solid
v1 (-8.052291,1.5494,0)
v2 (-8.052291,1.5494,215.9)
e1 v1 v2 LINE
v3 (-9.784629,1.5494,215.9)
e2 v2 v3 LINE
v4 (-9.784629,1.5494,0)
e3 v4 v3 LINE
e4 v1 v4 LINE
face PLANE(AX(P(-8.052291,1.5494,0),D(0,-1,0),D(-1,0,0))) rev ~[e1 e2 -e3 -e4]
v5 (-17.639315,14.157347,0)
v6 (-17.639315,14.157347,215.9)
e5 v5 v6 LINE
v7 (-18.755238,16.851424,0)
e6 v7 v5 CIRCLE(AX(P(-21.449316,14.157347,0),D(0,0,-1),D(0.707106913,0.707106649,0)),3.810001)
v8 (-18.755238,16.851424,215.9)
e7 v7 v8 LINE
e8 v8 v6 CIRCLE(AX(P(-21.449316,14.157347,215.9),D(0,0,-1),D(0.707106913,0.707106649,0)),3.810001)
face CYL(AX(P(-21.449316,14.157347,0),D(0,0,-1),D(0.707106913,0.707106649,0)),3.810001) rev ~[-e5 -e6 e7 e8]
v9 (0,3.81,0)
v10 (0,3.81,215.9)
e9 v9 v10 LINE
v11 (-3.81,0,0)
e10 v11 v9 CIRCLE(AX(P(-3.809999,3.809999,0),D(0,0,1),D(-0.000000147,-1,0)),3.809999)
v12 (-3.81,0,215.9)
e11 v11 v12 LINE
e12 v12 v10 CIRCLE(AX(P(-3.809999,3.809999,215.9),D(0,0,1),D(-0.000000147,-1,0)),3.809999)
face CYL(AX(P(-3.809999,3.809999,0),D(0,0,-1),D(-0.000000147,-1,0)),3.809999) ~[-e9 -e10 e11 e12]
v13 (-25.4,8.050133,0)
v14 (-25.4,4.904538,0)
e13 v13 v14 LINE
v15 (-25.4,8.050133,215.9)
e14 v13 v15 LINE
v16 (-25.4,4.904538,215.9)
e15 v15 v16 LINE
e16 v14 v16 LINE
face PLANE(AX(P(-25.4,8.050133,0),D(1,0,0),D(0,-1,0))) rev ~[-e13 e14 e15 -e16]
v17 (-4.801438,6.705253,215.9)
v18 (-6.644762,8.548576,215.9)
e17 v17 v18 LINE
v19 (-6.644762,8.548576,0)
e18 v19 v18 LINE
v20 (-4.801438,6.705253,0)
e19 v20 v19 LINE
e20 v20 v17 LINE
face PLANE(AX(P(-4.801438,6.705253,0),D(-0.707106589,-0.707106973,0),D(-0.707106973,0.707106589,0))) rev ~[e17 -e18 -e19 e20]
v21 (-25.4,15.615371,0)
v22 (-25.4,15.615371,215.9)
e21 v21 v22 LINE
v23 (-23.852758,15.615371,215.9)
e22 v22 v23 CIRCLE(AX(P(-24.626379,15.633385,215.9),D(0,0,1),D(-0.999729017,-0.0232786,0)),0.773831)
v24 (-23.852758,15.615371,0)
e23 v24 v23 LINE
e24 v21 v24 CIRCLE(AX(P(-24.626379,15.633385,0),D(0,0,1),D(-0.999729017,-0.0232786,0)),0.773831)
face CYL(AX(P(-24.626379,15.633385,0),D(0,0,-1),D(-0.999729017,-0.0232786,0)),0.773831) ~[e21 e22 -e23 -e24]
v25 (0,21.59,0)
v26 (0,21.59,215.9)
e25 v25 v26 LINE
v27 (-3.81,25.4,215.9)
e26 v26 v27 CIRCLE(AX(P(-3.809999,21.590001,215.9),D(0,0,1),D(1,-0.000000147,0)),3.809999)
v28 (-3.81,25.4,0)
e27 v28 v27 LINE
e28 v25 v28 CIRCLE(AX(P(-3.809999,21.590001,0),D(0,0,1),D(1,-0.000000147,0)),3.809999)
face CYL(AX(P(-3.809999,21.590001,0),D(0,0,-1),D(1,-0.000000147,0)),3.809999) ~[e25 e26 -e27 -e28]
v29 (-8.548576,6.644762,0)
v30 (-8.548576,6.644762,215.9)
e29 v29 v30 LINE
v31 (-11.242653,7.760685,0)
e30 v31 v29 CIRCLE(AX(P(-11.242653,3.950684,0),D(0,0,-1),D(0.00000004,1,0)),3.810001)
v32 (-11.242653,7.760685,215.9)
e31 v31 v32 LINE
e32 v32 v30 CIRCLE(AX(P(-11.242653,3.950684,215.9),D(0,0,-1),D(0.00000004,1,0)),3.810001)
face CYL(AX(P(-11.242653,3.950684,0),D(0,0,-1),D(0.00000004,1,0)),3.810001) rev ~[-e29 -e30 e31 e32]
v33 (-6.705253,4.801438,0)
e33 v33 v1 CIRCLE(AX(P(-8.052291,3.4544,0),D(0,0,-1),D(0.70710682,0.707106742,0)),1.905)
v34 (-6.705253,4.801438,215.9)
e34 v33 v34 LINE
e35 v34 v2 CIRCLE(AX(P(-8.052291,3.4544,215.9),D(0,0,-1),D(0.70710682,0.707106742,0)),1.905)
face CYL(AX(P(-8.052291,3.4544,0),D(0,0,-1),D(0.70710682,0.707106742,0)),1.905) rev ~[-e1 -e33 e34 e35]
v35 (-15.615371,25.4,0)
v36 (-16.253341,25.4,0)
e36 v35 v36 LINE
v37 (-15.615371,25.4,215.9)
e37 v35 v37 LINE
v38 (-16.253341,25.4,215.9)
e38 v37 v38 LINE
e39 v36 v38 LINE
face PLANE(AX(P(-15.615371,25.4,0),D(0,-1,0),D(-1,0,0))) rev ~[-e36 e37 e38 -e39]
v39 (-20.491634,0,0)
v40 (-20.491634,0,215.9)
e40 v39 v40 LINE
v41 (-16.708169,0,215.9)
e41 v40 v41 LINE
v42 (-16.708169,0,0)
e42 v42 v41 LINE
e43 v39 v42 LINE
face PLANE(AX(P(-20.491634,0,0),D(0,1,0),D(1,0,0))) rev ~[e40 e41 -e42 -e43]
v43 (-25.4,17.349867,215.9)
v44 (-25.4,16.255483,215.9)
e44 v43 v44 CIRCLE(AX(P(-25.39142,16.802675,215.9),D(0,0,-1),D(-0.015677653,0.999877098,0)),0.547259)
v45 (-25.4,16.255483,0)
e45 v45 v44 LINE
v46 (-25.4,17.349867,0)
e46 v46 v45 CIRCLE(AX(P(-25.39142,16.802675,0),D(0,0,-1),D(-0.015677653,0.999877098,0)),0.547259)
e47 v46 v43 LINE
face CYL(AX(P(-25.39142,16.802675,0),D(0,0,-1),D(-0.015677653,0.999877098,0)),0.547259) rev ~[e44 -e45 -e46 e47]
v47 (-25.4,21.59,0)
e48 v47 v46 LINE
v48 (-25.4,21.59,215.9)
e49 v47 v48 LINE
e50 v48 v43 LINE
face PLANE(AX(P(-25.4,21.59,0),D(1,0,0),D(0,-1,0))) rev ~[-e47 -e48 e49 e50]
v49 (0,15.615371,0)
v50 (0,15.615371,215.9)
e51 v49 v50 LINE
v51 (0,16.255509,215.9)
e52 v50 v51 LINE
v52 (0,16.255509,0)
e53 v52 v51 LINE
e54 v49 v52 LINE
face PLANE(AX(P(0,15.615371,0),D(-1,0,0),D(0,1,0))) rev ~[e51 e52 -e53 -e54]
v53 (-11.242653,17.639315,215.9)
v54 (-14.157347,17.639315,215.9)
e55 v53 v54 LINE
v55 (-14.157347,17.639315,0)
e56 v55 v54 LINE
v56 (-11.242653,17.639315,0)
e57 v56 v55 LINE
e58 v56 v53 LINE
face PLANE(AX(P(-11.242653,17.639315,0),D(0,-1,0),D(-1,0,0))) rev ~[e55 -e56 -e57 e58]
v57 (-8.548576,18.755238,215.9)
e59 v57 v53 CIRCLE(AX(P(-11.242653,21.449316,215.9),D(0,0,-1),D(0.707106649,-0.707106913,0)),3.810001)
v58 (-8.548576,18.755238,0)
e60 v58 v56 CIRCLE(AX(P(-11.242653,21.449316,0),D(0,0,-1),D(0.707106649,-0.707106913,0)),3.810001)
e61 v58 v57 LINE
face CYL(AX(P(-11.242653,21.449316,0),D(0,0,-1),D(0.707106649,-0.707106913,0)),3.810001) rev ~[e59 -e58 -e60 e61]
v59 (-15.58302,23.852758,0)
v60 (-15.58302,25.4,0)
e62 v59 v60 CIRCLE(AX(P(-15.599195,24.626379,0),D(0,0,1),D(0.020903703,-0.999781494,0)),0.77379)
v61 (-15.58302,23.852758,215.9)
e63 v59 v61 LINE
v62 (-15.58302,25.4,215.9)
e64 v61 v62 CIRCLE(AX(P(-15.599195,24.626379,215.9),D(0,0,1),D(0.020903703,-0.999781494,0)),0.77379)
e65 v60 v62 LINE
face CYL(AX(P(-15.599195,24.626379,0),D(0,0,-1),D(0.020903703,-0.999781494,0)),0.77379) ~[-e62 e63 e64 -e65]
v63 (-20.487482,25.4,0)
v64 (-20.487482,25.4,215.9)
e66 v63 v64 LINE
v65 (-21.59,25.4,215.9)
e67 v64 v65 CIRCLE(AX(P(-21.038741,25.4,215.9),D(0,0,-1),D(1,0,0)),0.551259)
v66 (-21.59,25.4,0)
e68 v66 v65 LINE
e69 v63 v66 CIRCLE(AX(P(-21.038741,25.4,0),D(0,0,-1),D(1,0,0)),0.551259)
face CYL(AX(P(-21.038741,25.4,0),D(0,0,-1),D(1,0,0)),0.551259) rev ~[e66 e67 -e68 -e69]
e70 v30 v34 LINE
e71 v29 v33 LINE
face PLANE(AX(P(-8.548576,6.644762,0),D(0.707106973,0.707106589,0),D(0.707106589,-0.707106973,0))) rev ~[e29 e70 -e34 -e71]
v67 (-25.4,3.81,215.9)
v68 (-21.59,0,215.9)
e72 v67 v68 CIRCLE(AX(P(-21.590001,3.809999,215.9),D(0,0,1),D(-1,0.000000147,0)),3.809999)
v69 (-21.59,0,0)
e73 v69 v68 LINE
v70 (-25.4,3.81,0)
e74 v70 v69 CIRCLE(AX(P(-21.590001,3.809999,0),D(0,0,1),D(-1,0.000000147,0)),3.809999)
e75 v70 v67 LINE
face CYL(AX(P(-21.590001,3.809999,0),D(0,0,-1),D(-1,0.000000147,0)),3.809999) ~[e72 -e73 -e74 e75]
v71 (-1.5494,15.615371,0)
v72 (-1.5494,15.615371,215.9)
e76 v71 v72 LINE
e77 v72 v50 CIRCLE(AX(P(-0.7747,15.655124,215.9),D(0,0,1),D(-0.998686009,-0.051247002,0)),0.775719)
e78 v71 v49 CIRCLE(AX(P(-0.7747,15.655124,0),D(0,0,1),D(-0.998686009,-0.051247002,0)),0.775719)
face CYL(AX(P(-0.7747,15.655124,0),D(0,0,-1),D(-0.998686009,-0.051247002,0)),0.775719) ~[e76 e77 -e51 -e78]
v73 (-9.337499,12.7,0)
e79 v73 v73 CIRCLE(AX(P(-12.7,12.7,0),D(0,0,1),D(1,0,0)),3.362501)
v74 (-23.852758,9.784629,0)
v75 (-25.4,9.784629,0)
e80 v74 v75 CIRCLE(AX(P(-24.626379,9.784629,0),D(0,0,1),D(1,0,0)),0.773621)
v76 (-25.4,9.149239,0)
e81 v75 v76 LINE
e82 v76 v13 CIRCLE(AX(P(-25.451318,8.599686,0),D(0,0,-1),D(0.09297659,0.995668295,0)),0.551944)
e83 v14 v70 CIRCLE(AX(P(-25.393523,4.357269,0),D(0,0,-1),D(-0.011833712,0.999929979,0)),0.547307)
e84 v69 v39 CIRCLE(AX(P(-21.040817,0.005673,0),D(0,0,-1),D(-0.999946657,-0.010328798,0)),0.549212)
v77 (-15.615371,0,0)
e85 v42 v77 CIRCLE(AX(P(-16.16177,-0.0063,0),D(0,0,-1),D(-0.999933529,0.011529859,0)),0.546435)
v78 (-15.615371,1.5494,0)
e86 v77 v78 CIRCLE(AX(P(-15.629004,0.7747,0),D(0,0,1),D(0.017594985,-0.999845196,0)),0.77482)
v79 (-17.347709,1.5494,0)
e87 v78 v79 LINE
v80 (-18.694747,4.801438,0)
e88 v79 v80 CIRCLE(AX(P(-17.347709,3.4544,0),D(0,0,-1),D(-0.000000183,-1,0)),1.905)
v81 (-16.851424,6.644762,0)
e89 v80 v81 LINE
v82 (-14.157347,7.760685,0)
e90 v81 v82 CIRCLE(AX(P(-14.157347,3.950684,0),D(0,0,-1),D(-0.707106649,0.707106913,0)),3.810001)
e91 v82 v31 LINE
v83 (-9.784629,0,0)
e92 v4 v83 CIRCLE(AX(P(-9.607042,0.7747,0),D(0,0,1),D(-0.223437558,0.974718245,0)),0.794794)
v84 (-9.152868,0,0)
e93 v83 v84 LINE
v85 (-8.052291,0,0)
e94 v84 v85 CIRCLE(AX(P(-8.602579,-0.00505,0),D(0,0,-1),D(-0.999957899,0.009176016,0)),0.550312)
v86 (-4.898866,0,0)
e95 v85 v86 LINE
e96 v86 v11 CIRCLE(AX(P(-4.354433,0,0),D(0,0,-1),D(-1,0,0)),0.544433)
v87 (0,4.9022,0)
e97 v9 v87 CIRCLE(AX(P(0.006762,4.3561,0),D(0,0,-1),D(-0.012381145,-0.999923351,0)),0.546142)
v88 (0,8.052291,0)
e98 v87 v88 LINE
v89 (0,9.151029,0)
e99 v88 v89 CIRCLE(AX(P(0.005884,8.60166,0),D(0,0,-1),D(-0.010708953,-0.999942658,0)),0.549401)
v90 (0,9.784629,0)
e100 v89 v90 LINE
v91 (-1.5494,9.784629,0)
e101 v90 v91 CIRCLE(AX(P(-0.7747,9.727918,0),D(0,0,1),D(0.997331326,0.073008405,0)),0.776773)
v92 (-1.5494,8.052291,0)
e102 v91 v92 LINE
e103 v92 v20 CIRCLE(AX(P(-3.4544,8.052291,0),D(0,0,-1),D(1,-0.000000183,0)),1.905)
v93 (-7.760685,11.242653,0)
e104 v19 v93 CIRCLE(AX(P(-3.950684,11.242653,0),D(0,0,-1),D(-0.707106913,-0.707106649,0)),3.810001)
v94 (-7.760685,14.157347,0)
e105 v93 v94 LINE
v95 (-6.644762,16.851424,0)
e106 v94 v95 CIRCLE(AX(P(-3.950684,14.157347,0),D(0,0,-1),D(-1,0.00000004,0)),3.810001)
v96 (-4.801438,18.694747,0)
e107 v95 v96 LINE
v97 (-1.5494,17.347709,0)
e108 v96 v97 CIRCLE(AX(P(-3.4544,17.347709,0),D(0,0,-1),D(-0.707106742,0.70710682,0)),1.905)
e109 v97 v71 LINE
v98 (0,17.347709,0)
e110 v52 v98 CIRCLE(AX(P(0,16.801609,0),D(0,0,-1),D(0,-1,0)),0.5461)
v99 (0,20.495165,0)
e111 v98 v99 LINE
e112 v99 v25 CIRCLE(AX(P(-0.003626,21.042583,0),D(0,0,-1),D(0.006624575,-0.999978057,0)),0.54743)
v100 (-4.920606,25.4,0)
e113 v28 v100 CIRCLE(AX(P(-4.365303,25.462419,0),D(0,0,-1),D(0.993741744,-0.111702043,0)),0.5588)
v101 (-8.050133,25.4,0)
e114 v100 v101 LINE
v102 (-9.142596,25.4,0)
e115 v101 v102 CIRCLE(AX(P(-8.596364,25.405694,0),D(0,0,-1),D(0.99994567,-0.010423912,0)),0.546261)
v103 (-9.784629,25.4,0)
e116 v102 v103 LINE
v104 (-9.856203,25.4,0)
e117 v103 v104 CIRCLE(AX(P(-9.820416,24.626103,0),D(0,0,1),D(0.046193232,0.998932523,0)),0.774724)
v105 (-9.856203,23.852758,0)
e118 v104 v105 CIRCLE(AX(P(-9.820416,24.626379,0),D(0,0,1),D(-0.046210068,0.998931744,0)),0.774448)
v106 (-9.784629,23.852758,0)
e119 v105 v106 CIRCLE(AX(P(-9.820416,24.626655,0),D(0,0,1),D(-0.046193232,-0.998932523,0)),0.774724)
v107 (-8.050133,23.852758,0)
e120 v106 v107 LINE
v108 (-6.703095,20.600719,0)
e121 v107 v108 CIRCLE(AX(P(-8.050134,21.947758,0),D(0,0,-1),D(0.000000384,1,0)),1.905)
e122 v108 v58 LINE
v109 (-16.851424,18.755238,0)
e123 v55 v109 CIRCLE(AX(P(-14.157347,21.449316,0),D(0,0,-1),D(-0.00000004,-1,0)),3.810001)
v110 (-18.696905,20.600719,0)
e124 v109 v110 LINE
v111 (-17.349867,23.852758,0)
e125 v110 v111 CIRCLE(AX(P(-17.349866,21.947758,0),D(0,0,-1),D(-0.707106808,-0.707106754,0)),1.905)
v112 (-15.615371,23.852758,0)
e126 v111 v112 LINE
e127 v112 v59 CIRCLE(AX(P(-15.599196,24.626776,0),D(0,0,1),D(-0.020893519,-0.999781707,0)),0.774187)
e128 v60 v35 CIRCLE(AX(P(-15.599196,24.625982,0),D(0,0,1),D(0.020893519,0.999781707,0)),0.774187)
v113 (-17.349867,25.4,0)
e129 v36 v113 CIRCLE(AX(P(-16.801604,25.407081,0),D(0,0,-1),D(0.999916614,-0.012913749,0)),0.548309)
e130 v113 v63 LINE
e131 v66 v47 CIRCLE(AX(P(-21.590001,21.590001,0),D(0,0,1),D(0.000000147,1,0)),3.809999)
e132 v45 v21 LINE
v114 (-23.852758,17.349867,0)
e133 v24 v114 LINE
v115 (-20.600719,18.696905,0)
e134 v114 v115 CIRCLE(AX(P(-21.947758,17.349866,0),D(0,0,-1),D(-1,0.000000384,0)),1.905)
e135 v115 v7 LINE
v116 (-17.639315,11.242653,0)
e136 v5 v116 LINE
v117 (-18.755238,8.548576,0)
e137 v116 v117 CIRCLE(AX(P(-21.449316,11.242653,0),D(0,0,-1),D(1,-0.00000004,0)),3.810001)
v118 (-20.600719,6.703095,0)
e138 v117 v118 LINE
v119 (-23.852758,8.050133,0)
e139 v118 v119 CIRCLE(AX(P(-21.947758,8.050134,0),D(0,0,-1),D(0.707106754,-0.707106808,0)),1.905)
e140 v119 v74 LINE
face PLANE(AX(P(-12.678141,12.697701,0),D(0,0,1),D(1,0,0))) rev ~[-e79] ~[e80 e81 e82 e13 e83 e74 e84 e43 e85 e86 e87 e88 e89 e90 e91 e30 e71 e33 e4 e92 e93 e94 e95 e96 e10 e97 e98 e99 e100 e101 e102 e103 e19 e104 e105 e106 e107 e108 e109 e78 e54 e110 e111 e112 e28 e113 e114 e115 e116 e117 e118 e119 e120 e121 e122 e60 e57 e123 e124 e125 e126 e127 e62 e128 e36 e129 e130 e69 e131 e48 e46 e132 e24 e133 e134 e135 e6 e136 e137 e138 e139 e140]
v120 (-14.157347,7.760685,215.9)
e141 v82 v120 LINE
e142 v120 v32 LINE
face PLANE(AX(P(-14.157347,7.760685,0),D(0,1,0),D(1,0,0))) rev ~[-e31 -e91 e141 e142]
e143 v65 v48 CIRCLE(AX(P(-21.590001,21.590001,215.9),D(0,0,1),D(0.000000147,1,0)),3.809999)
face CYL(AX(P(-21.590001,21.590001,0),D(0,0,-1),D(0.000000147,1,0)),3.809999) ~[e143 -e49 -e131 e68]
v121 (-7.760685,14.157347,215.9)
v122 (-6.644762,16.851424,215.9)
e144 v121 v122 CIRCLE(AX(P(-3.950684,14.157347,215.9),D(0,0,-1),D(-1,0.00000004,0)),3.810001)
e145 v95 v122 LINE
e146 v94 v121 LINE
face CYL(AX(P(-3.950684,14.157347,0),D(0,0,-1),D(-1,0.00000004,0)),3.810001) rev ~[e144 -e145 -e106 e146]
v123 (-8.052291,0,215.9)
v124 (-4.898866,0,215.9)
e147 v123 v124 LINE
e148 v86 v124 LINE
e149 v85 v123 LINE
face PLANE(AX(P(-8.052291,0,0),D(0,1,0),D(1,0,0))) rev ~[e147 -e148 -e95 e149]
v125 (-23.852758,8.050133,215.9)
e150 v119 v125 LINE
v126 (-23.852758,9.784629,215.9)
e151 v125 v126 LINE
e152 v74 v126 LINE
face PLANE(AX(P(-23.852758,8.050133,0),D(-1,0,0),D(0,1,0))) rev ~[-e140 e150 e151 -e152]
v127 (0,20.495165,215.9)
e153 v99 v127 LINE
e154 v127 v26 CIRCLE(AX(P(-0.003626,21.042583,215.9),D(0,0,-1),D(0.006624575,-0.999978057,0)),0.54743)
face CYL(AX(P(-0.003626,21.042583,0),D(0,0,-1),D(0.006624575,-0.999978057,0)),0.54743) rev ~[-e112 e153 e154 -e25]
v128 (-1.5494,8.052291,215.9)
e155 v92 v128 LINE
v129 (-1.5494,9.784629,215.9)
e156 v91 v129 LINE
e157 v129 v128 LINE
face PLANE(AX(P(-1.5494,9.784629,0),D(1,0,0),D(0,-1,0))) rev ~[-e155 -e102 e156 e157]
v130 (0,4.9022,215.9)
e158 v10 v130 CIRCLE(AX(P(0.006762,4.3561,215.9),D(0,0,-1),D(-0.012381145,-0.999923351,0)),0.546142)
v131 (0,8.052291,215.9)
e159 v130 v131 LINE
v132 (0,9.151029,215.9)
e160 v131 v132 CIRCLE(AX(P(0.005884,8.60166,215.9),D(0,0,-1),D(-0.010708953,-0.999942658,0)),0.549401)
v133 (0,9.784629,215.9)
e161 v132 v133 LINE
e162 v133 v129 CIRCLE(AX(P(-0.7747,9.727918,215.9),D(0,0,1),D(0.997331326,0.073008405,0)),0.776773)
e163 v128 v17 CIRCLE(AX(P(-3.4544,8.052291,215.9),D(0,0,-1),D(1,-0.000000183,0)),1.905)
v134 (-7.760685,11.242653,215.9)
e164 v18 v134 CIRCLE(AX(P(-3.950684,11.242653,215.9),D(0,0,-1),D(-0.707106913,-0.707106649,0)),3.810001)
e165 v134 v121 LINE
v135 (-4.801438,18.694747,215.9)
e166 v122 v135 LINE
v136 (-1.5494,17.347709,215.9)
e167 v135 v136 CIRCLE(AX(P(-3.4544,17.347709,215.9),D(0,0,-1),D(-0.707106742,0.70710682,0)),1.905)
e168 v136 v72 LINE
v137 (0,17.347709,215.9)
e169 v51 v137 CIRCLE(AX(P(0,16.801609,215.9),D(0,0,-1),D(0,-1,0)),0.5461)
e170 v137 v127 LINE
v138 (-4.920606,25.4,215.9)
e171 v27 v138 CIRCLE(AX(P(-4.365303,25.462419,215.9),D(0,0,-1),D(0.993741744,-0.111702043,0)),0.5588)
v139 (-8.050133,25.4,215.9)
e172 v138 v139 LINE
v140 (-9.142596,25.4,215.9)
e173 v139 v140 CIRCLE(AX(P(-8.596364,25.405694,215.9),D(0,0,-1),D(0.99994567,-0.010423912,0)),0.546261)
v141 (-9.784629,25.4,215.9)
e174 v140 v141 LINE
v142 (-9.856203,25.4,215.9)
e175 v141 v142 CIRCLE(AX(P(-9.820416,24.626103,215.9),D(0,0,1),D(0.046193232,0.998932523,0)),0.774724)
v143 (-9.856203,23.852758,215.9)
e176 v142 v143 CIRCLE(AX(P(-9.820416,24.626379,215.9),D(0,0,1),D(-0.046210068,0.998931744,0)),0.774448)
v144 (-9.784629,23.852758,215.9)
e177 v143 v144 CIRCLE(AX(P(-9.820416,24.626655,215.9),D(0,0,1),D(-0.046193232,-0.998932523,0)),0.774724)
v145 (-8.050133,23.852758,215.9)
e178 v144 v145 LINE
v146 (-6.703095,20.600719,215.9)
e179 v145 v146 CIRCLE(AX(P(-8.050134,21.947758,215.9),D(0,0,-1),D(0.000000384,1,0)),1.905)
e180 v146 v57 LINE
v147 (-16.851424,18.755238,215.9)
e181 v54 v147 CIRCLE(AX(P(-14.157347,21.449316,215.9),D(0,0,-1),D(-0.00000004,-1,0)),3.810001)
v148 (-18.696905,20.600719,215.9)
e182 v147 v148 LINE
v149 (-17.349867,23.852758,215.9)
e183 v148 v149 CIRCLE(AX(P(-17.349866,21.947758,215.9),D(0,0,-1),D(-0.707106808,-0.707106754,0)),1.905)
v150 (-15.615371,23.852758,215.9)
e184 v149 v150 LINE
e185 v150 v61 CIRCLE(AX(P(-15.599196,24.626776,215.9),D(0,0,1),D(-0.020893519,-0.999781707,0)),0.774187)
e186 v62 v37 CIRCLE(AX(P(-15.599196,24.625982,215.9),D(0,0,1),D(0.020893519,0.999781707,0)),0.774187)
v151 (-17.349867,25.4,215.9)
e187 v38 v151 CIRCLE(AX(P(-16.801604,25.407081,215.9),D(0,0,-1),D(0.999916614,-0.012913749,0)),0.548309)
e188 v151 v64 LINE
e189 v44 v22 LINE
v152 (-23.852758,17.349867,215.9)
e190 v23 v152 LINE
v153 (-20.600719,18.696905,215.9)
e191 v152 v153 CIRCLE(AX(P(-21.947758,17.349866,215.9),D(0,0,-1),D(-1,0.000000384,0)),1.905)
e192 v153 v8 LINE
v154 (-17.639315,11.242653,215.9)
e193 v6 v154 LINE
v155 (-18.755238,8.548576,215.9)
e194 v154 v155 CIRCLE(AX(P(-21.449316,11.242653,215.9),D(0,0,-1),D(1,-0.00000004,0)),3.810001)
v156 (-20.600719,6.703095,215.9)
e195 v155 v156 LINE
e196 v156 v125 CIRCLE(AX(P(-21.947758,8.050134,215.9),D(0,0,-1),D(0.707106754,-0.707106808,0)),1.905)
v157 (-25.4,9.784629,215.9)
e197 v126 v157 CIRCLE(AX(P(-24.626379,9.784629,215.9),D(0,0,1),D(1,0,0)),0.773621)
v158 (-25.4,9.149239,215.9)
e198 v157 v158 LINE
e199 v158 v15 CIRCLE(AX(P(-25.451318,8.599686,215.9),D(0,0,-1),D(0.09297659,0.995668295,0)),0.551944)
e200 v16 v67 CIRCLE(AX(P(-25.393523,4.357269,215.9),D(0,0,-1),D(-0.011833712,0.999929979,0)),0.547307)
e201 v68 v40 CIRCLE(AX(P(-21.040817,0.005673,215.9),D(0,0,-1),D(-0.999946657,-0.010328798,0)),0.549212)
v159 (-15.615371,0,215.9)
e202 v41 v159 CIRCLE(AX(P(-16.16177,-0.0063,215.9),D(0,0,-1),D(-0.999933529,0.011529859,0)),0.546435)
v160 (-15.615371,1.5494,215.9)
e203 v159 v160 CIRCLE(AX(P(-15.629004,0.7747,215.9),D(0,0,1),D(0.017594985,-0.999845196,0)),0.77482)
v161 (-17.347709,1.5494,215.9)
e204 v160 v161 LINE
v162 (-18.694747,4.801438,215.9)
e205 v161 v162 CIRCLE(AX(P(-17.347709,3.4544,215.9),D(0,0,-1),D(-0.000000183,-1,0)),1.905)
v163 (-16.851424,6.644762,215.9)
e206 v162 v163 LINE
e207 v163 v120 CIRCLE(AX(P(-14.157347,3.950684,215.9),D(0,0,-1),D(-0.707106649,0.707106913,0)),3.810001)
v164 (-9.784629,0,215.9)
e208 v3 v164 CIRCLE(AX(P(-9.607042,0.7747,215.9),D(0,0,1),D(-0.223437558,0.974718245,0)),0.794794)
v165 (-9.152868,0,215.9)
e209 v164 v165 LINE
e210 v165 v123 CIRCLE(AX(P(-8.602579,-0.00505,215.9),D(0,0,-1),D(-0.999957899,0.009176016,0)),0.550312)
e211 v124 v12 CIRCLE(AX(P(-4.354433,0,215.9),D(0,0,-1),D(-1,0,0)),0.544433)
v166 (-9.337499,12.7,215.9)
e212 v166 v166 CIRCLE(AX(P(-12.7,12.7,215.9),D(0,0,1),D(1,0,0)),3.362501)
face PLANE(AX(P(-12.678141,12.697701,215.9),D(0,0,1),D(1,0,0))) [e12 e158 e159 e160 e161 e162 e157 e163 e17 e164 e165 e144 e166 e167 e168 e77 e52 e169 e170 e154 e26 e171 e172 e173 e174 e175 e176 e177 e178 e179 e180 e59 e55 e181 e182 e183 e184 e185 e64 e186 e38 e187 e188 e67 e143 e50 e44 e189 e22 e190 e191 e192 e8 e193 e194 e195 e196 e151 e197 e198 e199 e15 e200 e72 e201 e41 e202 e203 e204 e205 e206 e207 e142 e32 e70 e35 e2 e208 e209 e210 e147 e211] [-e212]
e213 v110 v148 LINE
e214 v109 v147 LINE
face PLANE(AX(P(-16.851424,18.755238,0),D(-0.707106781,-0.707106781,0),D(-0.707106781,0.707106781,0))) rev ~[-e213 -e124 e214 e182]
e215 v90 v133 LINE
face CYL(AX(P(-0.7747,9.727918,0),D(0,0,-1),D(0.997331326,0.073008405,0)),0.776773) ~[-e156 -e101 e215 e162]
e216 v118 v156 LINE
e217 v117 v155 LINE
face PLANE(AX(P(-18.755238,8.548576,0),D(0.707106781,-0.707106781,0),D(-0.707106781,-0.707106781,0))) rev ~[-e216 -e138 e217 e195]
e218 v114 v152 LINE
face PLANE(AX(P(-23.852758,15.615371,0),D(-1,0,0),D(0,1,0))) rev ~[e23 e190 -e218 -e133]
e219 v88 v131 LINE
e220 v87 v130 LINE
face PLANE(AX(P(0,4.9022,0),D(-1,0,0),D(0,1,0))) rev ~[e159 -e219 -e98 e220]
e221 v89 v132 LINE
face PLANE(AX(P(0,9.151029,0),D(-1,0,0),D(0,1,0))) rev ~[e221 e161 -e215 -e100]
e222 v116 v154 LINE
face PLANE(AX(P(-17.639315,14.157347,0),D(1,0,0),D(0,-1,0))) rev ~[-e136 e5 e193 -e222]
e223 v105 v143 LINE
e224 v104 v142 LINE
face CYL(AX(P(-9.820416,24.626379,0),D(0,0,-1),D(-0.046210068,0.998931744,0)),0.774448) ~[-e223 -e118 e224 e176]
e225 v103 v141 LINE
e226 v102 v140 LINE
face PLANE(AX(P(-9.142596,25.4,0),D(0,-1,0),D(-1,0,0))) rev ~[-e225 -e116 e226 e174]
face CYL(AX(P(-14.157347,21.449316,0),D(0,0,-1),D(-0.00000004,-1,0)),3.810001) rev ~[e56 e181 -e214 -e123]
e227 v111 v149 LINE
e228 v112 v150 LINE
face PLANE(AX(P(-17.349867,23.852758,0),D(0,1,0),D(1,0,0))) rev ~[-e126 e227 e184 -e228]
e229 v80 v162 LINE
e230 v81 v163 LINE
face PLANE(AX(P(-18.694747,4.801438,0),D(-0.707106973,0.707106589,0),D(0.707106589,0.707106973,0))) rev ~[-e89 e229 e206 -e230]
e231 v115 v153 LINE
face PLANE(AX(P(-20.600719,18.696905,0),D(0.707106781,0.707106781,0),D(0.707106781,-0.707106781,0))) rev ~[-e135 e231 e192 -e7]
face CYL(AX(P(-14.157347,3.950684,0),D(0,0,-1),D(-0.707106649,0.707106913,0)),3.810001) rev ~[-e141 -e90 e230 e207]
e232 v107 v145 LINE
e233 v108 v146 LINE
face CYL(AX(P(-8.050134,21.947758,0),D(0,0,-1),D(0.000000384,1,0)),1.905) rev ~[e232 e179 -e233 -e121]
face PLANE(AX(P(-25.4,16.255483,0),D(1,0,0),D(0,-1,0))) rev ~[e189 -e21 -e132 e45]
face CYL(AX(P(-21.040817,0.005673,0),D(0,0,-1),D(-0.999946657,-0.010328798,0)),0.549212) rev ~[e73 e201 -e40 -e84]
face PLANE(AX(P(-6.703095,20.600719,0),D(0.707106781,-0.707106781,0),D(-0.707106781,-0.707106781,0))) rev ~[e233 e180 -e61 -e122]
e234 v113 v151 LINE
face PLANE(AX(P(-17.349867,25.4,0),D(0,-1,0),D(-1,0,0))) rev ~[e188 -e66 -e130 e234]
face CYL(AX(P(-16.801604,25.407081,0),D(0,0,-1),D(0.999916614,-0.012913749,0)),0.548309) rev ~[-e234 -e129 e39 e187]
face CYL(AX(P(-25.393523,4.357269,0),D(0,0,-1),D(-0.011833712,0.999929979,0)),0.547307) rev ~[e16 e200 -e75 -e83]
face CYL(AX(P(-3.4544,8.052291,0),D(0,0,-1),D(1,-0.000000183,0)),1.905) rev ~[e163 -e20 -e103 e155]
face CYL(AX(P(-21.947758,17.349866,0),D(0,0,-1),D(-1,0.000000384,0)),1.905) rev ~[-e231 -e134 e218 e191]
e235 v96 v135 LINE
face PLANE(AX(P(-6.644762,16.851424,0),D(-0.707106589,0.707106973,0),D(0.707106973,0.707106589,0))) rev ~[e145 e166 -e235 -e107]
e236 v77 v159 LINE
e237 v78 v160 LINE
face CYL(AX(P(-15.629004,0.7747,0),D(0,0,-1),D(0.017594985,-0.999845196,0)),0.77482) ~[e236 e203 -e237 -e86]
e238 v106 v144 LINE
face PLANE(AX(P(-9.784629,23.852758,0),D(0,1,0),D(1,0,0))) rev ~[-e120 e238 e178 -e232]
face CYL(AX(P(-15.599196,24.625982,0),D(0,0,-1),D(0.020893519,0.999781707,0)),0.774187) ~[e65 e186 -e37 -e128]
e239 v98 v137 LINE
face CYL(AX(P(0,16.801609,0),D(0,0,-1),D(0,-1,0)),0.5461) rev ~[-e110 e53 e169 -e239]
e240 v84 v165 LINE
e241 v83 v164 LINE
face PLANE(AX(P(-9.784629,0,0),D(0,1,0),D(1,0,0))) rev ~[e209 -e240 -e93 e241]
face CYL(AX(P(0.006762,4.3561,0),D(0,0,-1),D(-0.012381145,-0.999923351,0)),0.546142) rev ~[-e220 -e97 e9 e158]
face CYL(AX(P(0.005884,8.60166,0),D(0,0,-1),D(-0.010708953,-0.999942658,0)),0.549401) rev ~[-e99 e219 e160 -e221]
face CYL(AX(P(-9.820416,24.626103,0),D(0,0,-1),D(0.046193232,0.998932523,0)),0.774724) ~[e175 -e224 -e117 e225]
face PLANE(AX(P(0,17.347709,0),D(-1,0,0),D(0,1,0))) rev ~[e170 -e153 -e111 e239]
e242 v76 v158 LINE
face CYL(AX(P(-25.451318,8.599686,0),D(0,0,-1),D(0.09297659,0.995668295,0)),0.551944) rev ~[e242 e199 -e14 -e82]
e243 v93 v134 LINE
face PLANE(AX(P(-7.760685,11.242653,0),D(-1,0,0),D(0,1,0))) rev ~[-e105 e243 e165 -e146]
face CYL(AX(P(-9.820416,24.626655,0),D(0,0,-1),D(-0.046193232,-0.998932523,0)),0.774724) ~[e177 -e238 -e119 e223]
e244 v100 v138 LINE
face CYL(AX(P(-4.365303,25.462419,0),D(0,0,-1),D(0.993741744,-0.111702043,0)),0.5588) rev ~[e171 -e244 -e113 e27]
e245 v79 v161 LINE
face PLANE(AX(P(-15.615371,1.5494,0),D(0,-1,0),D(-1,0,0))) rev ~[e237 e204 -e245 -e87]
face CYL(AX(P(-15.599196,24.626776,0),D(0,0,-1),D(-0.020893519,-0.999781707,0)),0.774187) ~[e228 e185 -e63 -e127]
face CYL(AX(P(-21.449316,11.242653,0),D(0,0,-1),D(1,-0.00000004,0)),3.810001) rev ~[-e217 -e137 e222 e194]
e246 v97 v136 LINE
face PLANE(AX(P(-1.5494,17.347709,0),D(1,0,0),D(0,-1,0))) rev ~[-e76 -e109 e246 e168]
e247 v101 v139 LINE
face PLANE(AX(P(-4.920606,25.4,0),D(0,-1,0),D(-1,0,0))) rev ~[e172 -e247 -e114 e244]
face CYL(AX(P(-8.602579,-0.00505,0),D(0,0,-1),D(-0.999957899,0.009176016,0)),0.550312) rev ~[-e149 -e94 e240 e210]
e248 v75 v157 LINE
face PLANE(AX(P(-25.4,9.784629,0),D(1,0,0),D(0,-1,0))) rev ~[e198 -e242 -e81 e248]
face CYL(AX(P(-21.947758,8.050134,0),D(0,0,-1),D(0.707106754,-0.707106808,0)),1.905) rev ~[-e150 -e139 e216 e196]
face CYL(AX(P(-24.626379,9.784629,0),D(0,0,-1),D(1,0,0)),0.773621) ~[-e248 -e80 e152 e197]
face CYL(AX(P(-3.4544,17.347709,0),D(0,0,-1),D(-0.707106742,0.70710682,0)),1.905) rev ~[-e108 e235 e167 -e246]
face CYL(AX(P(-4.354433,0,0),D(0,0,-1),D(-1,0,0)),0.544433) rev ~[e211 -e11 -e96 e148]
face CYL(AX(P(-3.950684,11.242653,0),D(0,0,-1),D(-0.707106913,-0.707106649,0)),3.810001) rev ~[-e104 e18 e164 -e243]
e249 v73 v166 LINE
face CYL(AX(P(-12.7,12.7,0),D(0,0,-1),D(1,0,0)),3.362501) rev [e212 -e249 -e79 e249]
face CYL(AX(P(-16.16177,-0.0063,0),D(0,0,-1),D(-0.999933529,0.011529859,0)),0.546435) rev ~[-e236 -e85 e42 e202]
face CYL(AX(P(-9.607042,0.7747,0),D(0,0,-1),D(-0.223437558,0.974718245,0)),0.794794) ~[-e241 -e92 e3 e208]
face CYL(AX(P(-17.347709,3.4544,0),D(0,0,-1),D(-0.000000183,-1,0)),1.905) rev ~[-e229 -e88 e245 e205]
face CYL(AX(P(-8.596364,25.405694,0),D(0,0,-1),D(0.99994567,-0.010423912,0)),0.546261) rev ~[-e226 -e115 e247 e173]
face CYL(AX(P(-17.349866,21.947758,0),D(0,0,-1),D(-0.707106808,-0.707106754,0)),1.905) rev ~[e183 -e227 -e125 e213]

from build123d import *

# Parameters (mm, degrees)
F0_R     = 3.362501
F1_DEPTH = 215.9


with BuildPart() as f1:
    # F0 (on Top) → F1 (new body)
    with BuildSketch(Plane.XY):
        with BuildLine():
            ThreePointArc((-8.548576, 18.755238), (-9.784629, 17.929334), (-11.242653, 17.639315))
            Line((-11.242653, 17.639315), (-14.157347, 17.639315))
            ThreePointArc((-14.157347, 17.639315), (-15.615371, 17.929334), (-16.851424, 18.755238))
            Line((-16.851424, 18.755238), (-18.696905, 20.600719))
            ThreePointArc((-18.696905, 20.600719), (-19.109857, 22.67677), (-17.349867, 23.852758))
            Line((-17.349867, 23.852758), (-15.615371, 23.852758))
            Line((-15.615371, 23.852758), (-15.58302, 23.852758))
            ThreePointArc((-15.58302, 23.852758), (-14.825405, 24.626379), (-15.58302, 25.4))
            Line((-15.58302, 25.4), (-15.615371, 25.4))
            Line((-15.615371, 25.4), (-16.253341, 25.4))
            ThreePointArc((-16.253341, 25.4), (-16.801604, 24.858772), (-17.349867, 25.4))
            Line((-17.349867, 25.4), (-20.487482, 25.4))
            ThreePointArc((-20.487482, 25.4), (-21.038741, 24.848741), (-21.59, 25.4))
            ThreePointArc((-21.59, 25.4), (-24.284077, 24.284077), (-25.4, 21.59))
            Line((-25.4, 21.59), (-25.4, 20.504724))
            Line((-25.4, 20.504724), (-25.4, 17.349867))
            ThreePointArc((-25.4, 17.349867), (-24.844161, 16.802675), (-25.4, 16.255483))
            Line((-25.4, 16.255483), (-25.4, 15.615371))
            ThreePointArc((-25.4, 15.615371), (-24.626379, 14.859554), (-23.852758, 15.615371))
            Line((-23.852758, 15.615371), (-23.852758, 17.349867))
            ThreePointArc((-23.852758, 17.349867), (-22.67677, 19.109857), (-20.600719, 18.696905))
            Line((-20.600719, 18.696905), (-18.755238, 16.851424))
            ThreePointArc((-18.755238, 16.851424), (-17.929334, 15.615371), (-17.639315, 14.157347))
            Line((-17.639315, 14.157347), (-17.639315, 11.242653))
            ThreePointArc((-17.639315, 11.242653), (-17.929334, 9.784629), (-18.755238, 8.548576))
            Line((-18.755238, 8.548576), (-20.600719, 6.703095))
            ThreePointArc((-20.600719, 6.703095), (-22.67677, 6.290143), (-23.852758, 8.050133))
            Line((-23.852758, 8.050133), (-23.852758, 9.784629))
            ThreePointArc((-23.852758, 9.784629), (-24.626379, 10.55825), (-25.4, 9.784629))
            Line((-25.4, 9.784629), (-25.4, 9.149239))
            ThreePointArc((-25.4, 9.149239), (-24.899374, 8.599686), (-25.4, 8.050133))
            Line((-25.4, 8.050133), (-25.4, 4.904538))
            ThreePointArc((-25.4, 4.904538), (-24.846216, 4.357269), (-25.4, 3.81))
            ThreePointArc((-25.4, 3.81), (-24.284077, 1.115923), (-21.59, 0))
            ThreePointArc((-21.59, 0), (-21.040817, 0.554885), (-20.491634, 0))
            Line((-20.491634, 0), (-16.708169, 0))
            ThreePointArc((-16.708169, 0), (-16.16177, 0.540135), (-15.615371, 0))
            ThreePointArc((-15.615371, 0), (-14.854184, 0.7747), (-15.615371, 1.5494))
            Line((-15.615371, 1.5494), (-17.347709, 1.5494))
            ThreePointArc((-17.347709, 1.5494), (-19.107699, 2.725388), (-18.694747, 4.801438))
            Line((-18.694747, 4.801438), (-16.851424, 6.644762))
            ThreePointArc((-16.851424, 6.644762), (-15.615371, 7.470666), (-14.157347, 7.760685))
            Line((-14.157347, 7.760685), (-11.242653, 7.760685))
            ThreePointArc((-11.242653, 7.760685), (-9.784629, 7.470666), (-8.548576, 6.644762))
            Line((-8.548576, 6.644762), (-6.705253, 4.801438))
            ThreePointArc((-6.705253, 4.801438), (-6.292301, 2.725388), (-8.052291, 1.5494))
            Line((-8.052291, 1.5494), (-9.784629, 1.5494))
            ThreePointArc((-9.784629, 1.5494), (-10.401836, 0.7747), (-9.784629, 0))
            Line((-9.784629, 0), (-9.152868, 0))
            ThreePointArc((-9.152868, 0), (-8.602579, 0.545262), (-8.052291, 0))
            Line((-8.052291, 0), (-4.898866, 0))
            ThreePointArc((-4.898866, 0), (-4.354433, 0.544433), (-3.81, 0))
            ThreePointArc((-3.81, 0), (-1.115923, 1.115923), (0, 3.81))
            ThreePointArc((0, 3.81), (-0.53938, 4.3561), (0, 4.9022))
            Line((0, 4.9022), (0, 8.052291))
            ThreePointArc((0, 8.052291), (-0.543517, 8.60166), (0, 9.151029))
            Line((0, 9.151029), (0, 9.784629))
            ThreePointArc((0, 9.784629), (-0.7747, 10.504691), (-1.5494, 9.784629))
            Line((-1.5494, 9.784629), (-1.5494, 8.052291))
            ThreePointArc((-1.5494, 8.052291), (-2.725388, 6.292301), (-4.801438, 6.705253))
            Line((-4.801438, 6.705253), (-6.644762, 8.548576))
            ThreePointArc((-6.644762, 8.548576), (-7.470666, 9.784629), (-7.760685, 11.242653))
            Line((-7.760685, 11.242653), (-7.760685, 14.157347))
            ThreePointArc((-7.760685, 14.157347), (-7.470666, 15.615371), (-6.644762, 16.851424))
            Line((-6.644762, 16.851424), (-4.801438, 18.694747))
            ThreePointArc((-4.801438, 18.694747), (-2.725388, 19.107699), (-1.5494, 17.347709))
            Line((-1.5494, 17.347709), (-1.5494, 15.615371))
            ThreePointArc((-1.5494, 15.615371), (-0.7747, 14.879405), (0, 15.615371))
            Line((0, 15.615371), (0, 16.255509))
            ThreePointArc((0, 16.255509), (-0.5461, 16.801609), (0, 17.347709))
            Line((0, 17.347709), (0, 20.495165))
            ThreePointArc((0, 20.495165), (-0.551056, 21.042583), (0, 21.59))
            ThreePointArc((0, 21.59), (-1.115923, 24.284077), (-3.81, 25.4))
            ThreePointArc((-3.81, 25.4), (-4.365303, 24.903619), (-4.920606, 25.4))
            Line((-4.920606, 25.4), (-8.050133, 25.4))
            ThreePointArc((-8.050133, 25.4), (-8.596365, 24.859433), (-9.142596, 25.4))
            Line((-9.142596, 25.4), (-9.784629, 25.4))
            Line((-9.784629, 25.4), (-9.856203, 25.4))
            ThreePointArc((-9.856203, 25.4), (-10.594864, 24.626379), (-9.856203, 23.852758))
            Line((-9.856203, 23.852758), (-9.784629, 23.852758))
            Line((-9.784629, 23.852758), (-8.050133, 23.852758))
            ThreePointArc((-8.050133, 23.852758), (-6.290143, 22.67677), (-6.703095, 20.600719))
            Line((-6.703095, 20.600719), (-8.548576, 18.755238))
        make_face()
        with Locations((-12.7, 12.7)):
            Circle(F0_R, mode=Mode.SUBTRACT)
        with BuildLine():
            ThreePointArc((-9.856203, 23.852758), (-9.820416, 23.851931), (-9.784629, 23.852758))
            Line((-9.784629, 23.852758), (-9.856203, 23.852758))
        make_face()
        with BuildLine():
            Line((-15.58302, 23.852758), (-15.615371, 23.852758))
            ThreePointArc((-15.615371, 23.852758), (-15.599195, 23.852589), (-15.58302, 23.852758))
        make_face()
        with BuildLine():
            ThreePointArc((-9.784629, 25.4), (-9.820416, 25.400827), (-9.856203, 25.4))
            Line((-9.856203, 25.4), (-9.784629, 25.4))
        make_face()
        with BuildLine():
            Line((-15.615371, 25.4), (-15.58302, 25.4))
            ThreePointArc((-15.58302, 25.4), (-15.599195, 25.400169), (-15.615371, 25.4))
        make_face()
    extrude(amount=F1_DEPTH)


solid = f1.part
